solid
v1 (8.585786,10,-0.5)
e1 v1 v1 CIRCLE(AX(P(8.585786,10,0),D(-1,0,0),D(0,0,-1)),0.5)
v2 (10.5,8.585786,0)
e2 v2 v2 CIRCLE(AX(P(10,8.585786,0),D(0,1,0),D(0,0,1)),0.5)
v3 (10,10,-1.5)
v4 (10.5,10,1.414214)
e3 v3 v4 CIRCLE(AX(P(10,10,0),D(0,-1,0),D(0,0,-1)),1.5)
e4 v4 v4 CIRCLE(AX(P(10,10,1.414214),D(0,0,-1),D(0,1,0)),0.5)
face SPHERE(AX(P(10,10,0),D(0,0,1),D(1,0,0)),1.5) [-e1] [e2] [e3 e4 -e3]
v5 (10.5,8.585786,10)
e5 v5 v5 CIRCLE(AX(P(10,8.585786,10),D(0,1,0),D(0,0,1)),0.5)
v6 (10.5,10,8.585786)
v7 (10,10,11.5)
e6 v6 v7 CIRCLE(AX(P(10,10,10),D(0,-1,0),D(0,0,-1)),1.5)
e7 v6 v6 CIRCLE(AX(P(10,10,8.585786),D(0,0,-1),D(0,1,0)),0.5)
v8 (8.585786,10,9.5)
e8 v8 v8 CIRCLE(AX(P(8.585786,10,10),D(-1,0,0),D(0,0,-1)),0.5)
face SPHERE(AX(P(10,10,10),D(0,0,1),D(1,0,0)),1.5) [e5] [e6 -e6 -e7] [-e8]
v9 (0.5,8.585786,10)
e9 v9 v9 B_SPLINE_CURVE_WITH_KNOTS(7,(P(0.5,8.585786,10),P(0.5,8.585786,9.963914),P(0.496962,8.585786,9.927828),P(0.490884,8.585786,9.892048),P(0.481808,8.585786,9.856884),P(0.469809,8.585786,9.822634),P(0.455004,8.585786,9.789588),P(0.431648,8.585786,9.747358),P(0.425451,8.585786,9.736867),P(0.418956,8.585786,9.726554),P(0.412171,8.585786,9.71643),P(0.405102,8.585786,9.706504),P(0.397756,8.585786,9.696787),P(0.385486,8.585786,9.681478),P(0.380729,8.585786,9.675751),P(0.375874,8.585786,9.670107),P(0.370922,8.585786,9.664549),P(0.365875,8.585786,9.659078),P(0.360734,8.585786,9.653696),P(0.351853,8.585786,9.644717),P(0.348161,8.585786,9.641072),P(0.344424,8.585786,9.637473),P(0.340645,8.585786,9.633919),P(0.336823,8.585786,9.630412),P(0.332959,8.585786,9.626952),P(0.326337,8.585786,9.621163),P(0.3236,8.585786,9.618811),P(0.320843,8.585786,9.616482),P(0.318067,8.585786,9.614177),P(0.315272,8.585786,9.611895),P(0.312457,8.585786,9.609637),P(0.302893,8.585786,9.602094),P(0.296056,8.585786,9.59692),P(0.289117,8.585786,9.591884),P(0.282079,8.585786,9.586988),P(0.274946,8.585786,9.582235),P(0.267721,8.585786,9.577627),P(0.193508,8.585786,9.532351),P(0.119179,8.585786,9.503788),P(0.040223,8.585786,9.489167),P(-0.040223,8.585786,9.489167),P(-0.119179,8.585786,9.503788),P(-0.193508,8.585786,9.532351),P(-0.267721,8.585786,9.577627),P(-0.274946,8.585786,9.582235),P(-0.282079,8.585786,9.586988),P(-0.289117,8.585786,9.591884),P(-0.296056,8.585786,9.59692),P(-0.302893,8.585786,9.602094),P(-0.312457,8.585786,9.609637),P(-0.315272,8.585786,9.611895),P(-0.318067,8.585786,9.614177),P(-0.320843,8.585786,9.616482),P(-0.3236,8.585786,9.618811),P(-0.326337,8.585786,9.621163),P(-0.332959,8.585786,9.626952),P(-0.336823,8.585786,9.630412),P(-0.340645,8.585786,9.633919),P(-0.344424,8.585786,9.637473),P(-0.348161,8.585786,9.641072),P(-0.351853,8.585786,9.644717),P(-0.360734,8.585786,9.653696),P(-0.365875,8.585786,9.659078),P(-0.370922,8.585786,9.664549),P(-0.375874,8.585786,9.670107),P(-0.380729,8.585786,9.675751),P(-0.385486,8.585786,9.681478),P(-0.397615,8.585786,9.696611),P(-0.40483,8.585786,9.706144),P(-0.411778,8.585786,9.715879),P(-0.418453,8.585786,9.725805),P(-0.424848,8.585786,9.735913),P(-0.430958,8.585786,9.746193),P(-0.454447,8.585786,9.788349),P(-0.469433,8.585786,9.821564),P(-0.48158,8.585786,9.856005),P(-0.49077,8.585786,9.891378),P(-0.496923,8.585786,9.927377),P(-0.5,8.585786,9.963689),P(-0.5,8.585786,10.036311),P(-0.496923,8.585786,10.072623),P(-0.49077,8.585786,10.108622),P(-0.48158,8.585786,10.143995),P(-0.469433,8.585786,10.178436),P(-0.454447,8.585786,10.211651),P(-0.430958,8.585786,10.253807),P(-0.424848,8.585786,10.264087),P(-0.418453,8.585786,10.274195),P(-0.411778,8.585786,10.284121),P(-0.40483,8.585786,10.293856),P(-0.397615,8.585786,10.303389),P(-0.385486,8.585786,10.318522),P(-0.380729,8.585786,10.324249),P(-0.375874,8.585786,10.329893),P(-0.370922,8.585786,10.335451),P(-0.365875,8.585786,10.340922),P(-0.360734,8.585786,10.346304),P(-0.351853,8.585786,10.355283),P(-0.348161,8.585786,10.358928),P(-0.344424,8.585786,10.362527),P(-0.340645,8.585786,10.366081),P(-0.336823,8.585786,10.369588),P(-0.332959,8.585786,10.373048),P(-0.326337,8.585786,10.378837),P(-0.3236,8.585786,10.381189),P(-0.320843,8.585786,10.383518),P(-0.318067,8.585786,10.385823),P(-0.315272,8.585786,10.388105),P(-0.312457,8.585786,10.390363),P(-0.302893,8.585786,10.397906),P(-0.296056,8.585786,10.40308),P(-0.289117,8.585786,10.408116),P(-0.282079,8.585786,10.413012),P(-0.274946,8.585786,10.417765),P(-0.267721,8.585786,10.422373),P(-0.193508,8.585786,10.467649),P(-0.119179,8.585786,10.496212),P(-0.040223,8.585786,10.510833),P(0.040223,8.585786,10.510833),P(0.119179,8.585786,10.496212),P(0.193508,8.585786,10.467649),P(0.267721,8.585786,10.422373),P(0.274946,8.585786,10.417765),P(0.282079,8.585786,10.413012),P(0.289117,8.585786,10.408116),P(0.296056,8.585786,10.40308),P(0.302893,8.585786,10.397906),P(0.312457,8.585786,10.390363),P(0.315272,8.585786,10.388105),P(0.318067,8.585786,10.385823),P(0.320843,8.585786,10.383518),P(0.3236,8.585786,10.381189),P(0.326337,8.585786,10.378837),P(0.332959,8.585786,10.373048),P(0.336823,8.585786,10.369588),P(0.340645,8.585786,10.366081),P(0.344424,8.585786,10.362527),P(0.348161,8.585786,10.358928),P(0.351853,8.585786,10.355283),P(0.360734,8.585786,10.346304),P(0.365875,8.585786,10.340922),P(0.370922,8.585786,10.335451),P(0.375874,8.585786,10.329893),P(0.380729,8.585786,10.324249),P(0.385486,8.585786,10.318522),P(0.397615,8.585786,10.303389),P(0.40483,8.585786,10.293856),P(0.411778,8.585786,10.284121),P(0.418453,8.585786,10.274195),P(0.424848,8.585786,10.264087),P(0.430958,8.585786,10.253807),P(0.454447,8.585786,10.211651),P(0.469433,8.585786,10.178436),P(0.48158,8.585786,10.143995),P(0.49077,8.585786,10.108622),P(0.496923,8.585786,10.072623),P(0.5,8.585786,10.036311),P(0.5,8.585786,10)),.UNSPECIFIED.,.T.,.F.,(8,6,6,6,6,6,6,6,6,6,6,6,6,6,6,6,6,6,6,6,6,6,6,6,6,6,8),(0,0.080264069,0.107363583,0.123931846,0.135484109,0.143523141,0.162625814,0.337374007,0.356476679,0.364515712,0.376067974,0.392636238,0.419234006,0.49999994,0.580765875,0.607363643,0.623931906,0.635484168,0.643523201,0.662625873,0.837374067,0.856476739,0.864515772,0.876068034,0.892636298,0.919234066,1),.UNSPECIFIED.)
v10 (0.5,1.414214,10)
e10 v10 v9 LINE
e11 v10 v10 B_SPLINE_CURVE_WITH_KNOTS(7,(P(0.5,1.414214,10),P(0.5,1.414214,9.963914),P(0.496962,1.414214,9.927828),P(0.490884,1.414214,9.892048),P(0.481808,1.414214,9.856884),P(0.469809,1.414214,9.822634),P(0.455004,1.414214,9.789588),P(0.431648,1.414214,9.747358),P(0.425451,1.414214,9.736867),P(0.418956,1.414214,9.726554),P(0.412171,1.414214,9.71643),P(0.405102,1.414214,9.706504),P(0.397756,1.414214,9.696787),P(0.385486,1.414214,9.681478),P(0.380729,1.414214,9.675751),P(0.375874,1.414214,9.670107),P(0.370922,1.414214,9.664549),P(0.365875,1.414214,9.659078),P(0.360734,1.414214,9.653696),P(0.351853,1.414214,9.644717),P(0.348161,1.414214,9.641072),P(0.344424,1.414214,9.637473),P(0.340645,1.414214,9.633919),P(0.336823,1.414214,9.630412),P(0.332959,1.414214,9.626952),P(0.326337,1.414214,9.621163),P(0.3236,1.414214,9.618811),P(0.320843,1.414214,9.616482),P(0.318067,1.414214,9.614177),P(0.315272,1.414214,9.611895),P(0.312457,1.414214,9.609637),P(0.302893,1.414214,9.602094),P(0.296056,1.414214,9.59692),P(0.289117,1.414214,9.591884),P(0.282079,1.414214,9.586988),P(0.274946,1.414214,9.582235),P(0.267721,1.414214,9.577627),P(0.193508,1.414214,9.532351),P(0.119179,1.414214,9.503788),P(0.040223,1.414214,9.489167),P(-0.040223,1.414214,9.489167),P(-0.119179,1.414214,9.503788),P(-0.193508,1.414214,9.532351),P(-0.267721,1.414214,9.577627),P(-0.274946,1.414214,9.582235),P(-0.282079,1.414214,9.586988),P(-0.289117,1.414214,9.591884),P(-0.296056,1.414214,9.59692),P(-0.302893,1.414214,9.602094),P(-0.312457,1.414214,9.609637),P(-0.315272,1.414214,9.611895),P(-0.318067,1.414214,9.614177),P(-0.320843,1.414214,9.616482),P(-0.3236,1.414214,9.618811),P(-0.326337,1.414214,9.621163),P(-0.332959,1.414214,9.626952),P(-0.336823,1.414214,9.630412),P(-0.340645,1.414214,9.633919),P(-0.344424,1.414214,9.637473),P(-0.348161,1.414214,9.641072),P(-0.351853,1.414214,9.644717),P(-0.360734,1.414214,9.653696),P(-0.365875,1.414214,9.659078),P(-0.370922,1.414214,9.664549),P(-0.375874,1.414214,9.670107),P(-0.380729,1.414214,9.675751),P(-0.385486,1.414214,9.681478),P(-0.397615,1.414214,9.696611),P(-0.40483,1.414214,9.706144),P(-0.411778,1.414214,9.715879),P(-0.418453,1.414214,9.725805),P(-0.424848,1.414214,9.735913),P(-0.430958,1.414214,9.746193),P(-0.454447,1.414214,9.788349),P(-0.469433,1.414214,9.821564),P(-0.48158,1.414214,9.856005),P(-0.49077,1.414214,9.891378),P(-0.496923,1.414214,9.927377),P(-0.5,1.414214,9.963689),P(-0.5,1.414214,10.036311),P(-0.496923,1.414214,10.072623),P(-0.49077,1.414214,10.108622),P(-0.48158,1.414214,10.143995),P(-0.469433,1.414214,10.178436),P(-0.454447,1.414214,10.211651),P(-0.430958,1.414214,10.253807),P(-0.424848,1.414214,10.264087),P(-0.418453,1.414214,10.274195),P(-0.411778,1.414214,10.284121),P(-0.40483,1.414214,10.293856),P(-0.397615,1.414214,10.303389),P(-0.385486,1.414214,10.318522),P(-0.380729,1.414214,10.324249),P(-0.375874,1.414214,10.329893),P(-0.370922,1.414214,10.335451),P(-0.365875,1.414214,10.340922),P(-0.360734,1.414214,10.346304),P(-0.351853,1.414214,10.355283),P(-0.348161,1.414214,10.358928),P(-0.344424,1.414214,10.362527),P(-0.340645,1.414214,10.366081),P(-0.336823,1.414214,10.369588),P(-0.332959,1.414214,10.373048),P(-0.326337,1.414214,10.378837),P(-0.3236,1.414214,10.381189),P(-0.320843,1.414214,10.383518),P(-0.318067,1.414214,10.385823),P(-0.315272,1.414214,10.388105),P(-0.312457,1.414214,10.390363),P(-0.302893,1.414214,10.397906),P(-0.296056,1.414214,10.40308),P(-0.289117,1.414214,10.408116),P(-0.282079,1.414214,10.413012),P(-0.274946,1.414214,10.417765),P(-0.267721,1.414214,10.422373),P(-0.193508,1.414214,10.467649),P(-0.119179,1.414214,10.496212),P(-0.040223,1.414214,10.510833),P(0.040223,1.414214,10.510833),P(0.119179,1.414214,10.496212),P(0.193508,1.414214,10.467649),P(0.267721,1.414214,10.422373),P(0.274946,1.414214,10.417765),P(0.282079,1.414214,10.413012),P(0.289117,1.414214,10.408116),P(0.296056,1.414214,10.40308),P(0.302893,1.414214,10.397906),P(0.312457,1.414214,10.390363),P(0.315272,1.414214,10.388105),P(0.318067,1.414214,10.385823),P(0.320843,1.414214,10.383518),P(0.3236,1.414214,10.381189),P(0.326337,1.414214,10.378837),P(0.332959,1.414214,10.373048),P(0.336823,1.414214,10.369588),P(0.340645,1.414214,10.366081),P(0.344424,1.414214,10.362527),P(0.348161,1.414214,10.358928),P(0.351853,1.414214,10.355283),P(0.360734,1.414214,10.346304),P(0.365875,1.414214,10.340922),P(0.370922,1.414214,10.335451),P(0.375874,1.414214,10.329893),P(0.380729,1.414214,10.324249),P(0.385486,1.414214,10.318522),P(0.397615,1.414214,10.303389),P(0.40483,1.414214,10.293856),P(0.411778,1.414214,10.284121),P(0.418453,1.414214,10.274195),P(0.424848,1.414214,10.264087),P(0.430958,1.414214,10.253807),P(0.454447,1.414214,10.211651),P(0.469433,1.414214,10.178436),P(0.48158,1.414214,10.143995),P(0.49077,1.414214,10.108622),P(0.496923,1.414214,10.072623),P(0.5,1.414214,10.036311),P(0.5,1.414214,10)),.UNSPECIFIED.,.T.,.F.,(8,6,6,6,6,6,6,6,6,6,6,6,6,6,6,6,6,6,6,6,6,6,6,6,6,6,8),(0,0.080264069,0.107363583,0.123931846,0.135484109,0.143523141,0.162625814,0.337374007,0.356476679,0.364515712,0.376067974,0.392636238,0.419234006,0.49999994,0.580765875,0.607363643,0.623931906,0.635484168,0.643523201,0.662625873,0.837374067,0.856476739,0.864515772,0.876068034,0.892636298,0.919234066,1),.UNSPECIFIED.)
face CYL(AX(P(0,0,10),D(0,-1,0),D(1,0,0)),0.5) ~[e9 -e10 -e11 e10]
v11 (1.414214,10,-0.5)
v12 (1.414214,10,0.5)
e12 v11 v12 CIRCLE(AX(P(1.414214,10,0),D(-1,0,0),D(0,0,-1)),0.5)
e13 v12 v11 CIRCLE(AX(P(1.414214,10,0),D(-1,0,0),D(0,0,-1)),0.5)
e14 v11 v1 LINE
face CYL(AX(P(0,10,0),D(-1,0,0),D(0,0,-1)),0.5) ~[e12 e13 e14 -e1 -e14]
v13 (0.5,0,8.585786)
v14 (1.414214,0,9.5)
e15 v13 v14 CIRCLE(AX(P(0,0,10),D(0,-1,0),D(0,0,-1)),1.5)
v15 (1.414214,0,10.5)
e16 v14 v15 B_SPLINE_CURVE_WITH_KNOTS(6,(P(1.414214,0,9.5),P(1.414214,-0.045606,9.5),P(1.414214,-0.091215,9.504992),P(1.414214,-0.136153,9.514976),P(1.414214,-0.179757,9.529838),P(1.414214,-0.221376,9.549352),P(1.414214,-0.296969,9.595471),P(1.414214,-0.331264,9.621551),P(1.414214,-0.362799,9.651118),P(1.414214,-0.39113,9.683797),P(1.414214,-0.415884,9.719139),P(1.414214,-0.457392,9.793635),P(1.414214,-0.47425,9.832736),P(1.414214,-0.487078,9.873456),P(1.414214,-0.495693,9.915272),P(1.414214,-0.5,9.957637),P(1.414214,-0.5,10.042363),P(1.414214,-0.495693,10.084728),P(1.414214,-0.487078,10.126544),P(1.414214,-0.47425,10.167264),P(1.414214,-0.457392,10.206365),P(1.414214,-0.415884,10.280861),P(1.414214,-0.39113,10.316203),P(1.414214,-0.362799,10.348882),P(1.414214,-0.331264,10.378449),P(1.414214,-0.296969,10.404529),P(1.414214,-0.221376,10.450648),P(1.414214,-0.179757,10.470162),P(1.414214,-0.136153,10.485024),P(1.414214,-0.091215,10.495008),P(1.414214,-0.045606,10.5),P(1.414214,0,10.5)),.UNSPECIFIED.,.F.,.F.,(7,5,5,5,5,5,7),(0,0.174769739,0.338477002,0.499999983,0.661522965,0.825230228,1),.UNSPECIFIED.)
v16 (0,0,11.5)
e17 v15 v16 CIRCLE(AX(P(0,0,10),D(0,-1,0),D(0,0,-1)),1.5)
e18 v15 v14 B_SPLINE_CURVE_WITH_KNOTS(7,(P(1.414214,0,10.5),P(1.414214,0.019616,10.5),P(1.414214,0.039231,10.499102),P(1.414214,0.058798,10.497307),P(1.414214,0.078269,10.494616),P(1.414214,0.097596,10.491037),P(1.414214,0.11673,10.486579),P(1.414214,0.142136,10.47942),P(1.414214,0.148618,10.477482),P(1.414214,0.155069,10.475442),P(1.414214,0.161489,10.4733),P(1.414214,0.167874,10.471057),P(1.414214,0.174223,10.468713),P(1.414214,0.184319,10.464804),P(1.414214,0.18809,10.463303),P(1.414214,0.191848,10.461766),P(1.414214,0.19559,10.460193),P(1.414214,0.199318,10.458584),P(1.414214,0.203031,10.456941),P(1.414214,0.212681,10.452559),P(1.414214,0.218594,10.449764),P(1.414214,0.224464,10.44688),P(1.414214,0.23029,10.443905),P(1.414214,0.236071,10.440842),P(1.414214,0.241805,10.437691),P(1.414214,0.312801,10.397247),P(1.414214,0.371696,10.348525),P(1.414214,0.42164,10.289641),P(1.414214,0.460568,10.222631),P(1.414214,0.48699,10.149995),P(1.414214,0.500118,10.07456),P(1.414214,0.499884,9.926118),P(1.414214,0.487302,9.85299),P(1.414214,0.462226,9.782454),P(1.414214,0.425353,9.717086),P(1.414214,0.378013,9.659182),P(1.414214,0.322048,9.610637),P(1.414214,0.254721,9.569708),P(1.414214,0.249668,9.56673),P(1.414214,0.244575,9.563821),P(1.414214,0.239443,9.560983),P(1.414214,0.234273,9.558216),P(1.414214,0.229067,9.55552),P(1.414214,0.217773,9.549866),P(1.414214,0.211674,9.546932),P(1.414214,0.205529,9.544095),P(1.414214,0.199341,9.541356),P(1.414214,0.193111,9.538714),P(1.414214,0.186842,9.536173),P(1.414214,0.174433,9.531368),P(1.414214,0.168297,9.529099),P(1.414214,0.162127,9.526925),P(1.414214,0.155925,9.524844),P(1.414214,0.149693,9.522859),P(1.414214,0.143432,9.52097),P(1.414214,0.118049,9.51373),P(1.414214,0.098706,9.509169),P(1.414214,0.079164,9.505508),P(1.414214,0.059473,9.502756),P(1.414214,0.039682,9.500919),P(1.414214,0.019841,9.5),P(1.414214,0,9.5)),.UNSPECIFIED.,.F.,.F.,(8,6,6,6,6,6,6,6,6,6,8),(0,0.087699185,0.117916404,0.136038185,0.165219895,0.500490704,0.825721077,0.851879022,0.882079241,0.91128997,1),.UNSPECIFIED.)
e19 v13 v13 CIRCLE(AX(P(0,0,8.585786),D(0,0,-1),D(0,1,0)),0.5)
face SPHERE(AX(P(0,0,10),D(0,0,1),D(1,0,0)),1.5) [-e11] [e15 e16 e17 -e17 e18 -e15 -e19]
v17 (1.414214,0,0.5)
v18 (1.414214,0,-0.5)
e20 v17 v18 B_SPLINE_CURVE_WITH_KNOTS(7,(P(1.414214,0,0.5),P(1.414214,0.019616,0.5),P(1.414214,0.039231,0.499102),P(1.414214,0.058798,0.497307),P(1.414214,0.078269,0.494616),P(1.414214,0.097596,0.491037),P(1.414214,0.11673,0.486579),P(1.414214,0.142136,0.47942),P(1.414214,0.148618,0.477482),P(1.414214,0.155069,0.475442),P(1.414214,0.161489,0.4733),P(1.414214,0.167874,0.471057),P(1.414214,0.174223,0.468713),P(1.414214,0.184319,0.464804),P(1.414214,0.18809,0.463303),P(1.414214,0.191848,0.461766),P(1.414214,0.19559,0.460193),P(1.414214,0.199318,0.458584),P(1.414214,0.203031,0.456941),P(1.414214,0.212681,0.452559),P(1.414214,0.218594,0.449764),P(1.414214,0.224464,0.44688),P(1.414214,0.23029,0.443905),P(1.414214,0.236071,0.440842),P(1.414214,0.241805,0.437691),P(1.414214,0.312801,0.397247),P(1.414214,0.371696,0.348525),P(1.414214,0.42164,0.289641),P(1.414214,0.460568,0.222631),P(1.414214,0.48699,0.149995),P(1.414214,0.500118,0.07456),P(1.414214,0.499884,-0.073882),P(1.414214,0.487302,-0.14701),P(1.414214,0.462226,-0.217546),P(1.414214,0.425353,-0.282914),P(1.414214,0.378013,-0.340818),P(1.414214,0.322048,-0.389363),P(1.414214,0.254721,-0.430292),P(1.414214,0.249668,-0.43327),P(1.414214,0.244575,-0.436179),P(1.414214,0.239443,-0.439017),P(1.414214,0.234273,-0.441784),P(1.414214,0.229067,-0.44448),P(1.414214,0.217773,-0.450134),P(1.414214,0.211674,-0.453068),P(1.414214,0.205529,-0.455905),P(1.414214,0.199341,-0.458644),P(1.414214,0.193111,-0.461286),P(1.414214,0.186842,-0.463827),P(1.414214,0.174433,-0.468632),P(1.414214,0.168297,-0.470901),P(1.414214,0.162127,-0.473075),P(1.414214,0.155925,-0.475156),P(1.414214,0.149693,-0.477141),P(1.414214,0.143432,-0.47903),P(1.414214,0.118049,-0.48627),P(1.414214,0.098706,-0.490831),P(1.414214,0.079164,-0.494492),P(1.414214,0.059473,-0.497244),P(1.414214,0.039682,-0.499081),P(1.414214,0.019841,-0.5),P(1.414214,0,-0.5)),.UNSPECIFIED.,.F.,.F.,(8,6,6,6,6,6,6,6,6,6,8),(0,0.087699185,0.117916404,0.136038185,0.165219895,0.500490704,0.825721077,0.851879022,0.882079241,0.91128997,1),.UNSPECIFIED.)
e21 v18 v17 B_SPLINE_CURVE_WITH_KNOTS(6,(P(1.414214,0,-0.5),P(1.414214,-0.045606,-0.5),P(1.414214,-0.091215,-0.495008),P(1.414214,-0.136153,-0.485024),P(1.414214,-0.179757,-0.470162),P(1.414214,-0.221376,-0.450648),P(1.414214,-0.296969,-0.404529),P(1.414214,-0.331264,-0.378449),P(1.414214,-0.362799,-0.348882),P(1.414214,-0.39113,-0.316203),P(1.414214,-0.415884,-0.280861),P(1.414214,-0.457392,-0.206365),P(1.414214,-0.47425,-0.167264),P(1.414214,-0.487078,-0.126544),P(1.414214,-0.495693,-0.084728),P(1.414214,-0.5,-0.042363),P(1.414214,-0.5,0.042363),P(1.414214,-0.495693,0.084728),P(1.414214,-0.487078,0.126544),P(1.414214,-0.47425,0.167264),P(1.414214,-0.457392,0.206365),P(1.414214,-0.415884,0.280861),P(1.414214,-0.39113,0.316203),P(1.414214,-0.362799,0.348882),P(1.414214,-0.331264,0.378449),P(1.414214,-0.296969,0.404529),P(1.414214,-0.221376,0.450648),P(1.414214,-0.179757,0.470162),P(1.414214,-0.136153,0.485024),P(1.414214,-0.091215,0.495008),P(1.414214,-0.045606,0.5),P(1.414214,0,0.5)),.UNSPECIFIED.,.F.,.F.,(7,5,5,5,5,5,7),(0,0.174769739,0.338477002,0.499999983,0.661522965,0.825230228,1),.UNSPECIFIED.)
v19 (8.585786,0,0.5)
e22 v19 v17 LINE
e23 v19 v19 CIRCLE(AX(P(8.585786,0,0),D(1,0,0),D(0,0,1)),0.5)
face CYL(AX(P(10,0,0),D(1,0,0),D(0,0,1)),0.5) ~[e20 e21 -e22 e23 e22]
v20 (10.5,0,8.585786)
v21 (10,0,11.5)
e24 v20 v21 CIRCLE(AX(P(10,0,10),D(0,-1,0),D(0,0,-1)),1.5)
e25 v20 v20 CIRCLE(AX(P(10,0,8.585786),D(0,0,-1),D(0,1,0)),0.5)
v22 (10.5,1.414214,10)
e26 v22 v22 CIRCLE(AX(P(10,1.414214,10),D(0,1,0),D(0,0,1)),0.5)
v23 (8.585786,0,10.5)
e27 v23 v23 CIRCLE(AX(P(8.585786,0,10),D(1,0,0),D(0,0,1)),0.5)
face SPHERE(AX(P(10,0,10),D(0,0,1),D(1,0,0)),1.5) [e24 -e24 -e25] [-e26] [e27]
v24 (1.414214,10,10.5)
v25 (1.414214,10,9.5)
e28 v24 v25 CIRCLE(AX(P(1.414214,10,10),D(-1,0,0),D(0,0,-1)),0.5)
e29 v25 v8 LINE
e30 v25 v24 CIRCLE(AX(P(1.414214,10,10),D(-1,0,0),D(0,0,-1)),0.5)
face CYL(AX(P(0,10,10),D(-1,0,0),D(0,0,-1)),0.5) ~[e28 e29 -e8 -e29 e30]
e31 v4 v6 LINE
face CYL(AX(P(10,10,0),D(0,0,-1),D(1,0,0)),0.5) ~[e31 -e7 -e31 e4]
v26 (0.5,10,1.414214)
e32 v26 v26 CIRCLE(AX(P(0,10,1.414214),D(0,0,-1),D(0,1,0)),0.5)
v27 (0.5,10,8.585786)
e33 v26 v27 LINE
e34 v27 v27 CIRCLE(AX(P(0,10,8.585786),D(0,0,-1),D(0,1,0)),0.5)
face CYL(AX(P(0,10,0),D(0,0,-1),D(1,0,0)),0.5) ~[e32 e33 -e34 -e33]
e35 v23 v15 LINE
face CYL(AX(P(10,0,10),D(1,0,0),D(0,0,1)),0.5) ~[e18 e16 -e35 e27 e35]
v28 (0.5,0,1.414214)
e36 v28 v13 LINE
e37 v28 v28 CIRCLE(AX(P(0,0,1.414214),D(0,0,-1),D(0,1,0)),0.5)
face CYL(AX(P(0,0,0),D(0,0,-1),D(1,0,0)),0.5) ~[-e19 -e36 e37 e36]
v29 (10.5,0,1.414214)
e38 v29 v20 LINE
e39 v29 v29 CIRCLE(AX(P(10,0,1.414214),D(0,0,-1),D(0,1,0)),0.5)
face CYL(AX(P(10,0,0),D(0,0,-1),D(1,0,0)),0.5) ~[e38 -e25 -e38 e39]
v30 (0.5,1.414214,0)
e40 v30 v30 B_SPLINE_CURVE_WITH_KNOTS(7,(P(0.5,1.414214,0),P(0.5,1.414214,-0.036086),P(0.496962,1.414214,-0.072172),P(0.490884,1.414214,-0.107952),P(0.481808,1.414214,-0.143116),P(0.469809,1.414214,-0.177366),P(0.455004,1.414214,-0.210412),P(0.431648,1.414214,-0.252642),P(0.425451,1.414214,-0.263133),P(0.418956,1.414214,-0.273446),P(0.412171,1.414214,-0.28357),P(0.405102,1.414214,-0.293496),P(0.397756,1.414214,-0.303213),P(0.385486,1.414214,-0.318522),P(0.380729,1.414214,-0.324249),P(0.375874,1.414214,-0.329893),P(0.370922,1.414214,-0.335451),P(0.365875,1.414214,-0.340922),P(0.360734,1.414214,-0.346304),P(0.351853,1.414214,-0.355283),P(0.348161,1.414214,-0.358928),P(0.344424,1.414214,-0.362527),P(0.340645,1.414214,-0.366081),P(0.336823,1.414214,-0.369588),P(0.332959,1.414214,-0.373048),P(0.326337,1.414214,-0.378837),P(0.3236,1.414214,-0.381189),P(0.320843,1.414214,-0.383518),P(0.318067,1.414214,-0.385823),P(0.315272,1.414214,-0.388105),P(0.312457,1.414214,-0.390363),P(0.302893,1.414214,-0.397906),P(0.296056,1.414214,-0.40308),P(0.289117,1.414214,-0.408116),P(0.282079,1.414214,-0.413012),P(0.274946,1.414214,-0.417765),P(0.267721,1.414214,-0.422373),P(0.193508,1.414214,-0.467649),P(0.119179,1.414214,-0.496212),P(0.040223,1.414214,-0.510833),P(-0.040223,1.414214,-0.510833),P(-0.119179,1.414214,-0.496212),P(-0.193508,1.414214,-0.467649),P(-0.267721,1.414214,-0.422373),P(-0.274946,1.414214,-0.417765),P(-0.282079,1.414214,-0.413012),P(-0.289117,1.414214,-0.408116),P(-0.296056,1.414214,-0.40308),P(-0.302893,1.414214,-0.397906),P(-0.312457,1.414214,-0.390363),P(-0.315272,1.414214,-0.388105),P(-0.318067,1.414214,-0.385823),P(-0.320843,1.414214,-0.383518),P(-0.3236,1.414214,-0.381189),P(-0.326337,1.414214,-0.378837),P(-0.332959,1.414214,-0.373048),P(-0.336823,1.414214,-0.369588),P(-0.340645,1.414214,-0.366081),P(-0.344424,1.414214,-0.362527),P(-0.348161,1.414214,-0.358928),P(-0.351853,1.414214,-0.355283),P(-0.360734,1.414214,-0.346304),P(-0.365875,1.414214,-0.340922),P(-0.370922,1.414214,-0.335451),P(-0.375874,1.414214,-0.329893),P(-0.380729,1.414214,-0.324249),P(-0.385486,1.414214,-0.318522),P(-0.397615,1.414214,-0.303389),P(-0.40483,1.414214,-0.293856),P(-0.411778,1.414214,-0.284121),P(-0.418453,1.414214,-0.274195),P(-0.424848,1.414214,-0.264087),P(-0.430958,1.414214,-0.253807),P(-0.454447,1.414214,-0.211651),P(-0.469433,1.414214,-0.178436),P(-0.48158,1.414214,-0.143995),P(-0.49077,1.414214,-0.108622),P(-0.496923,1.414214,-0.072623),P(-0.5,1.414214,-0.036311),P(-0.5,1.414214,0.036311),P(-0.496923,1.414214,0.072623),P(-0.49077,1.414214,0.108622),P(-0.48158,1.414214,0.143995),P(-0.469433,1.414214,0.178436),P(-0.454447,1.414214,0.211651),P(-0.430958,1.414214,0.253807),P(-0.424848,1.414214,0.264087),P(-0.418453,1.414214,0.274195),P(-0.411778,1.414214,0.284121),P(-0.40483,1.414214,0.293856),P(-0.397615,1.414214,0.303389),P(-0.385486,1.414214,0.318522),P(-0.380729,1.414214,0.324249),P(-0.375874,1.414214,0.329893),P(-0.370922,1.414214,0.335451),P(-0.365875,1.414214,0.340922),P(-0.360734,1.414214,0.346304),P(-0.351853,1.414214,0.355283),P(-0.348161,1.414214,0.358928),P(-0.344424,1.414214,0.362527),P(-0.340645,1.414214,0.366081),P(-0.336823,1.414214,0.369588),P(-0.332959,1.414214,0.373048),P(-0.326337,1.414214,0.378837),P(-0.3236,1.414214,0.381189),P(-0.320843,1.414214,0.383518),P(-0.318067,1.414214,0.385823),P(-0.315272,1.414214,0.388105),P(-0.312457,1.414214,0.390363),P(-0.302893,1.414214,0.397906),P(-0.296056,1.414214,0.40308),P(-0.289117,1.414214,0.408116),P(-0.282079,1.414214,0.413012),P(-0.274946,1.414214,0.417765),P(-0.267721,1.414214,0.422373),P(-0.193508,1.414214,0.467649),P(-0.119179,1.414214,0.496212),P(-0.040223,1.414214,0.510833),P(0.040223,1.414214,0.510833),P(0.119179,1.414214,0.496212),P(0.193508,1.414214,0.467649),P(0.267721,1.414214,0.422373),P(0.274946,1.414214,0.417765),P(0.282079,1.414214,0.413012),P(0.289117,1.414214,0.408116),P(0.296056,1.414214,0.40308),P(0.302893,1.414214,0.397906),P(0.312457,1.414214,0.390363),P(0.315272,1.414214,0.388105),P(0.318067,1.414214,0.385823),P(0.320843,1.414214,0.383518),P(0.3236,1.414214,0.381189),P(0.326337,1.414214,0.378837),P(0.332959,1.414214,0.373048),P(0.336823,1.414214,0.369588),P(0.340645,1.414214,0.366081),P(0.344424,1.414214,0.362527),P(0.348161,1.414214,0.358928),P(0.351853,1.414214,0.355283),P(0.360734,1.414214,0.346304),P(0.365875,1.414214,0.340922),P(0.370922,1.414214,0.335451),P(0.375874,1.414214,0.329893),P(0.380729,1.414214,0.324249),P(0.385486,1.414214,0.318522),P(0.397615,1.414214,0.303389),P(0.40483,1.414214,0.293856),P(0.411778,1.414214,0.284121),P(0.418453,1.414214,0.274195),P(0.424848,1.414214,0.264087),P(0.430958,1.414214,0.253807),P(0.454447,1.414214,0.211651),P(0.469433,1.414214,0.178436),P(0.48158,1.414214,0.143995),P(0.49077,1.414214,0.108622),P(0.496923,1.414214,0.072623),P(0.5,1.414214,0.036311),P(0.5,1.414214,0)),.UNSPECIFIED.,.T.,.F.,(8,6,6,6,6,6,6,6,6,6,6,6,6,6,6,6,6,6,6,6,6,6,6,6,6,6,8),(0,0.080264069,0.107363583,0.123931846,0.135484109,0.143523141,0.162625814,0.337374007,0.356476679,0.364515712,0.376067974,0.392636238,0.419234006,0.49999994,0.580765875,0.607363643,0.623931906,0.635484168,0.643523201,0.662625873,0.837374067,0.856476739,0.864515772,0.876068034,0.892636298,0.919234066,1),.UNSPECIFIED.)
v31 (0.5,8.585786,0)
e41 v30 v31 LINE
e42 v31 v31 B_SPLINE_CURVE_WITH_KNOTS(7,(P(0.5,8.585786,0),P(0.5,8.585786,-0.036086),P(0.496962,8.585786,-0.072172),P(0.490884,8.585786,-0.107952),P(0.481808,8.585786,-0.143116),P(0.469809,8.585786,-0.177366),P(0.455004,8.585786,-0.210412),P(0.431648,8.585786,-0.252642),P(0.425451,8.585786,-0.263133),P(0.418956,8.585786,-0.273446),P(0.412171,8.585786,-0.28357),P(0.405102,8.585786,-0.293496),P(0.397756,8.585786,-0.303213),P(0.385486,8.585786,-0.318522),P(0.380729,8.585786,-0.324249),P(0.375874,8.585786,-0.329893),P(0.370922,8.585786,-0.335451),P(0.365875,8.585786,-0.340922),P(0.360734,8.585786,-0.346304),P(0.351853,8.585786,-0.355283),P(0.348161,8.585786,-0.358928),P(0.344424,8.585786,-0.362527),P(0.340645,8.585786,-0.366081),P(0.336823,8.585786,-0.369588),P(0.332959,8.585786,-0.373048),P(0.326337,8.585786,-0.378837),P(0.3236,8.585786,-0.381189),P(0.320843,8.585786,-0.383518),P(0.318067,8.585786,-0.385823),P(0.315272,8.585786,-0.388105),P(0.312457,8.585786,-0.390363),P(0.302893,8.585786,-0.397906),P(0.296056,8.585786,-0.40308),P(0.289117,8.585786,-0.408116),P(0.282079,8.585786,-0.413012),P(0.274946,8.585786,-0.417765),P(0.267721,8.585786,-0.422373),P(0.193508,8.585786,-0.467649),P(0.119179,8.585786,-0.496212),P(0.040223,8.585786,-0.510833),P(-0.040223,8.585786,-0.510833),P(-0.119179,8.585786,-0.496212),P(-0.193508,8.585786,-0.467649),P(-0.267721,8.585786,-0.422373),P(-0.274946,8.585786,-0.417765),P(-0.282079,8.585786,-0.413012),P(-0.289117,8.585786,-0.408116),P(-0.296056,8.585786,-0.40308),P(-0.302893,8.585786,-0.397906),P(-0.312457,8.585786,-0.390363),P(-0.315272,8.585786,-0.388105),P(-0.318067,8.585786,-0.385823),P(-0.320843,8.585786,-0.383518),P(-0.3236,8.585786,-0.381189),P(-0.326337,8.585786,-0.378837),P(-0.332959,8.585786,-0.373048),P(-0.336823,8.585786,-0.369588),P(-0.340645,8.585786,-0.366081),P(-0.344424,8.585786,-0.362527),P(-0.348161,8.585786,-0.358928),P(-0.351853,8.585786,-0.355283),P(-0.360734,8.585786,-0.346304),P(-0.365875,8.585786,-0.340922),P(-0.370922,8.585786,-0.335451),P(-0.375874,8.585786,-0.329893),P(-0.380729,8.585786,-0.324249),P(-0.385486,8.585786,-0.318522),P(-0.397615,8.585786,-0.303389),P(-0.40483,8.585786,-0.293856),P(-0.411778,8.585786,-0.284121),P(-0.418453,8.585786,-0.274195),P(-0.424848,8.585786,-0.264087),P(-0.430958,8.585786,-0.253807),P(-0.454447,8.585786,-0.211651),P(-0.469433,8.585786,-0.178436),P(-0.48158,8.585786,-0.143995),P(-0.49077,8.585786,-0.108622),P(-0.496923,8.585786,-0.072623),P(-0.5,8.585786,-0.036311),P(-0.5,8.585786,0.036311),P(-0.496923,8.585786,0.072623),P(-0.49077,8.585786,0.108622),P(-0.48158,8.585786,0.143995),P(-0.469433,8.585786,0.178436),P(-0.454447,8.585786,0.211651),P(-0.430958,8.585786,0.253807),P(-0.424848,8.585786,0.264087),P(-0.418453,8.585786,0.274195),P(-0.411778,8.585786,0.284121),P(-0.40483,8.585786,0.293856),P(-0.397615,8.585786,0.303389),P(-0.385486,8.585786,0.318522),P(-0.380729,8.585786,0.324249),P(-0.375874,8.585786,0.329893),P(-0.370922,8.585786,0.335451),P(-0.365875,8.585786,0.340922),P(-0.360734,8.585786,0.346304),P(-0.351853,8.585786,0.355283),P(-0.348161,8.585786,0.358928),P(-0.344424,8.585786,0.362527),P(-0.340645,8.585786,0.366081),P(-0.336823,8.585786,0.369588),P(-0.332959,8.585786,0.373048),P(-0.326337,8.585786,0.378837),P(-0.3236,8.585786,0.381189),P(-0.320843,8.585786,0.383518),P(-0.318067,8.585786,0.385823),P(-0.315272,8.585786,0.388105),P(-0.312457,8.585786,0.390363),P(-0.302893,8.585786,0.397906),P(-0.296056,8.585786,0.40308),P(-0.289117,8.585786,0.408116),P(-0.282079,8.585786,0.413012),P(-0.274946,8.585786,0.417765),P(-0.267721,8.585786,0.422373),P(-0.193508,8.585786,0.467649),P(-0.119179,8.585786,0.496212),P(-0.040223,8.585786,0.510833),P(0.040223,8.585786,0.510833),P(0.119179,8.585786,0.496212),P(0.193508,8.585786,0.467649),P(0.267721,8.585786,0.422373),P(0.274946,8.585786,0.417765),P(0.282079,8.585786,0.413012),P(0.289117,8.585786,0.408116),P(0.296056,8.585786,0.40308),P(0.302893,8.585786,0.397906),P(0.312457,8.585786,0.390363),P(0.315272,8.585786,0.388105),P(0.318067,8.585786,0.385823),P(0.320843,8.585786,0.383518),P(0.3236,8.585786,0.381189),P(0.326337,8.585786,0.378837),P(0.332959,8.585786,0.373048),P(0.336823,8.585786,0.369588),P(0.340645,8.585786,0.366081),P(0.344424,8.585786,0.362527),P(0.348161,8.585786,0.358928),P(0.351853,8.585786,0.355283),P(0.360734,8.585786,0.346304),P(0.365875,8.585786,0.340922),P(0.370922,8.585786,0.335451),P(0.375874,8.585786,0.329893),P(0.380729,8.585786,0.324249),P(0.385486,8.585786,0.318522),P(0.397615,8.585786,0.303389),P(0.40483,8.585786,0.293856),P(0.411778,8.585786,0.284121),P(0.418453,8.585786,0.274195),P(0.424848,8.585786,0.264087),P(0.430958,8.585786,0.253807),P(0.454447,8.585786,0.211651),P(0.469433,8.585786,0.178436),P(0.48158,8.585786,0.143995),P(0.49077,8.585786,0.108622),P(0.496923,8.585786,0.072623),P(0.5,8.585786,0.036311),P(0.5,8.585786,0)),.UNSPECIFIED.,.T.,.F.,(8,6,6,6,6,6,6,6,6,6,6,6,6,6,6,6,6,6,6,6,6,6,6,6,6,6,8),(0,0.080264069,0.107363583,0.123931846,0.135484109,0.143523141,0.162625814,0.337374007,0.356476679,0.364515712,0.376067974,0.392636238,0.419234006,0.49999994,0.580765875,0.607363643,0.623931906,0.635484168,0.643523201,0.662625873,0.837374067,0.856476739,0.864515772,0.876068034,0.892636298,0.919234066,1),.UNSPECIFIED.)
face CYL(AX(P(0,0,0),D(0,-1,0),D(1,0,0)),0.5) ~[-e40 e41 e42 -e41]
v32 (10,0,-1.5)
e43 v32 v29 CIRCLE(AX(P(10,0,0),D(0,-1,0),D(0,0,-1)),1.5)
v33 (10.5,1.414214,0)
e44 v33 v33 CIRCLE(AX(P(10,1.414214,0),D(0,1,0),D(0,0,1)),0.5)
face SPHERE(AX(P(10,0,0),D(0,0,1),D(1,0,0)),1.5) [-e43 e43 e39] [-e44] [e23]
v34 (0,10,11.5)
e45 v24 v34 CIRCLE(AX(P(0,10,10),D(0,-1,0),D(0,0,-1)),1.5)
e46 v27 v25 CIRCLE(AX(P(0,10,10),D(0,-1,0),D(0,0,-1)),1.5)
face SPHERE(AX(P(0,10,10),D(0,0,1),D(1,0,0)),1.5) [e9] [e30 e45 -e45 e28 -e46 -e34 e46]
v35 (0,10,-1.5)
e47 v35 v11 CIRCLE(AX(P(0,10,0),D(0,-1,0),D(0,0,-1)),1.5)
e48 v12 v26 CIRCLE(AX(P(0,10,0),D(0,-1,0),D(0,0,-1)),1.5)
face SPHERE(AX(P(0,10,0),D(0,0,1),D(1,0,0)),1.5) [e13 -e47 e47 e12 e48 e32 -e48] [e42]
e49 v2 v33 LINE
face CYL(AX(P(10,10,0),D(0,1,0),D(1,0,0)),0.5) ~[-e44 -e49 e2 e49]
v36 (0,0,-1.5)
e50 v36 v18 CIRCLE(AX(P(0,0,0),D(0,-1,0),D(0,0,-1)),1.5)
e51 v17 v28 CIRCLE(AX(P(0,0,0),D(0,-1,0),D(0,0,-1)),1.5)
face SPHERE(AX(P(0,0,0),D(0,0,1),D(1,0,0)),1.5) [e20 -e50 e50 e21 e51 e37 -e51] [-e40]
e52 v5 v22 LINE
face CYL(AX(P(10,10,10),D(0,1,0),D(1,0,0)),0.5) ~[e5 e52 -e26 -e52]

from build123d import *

# Parameters (mm, degrees)
CYLINDER_R        = 0.5
CYLINDER_DEPTH    = 10
CYLINDER001_R     = 0.5
CYLINDER001_DEPTH = 10
CYLINDER002_R     = 0.5
CYLINDER002_DEPTH = 10
CYLINDER003_R     = 0.5
CYLINDER003_DEPTH = 10
CYLINDER004_R     = 0.5
CYLINDER004_DEPTH = 10
CYLINDER005_R     = 0.5
CYLINDER005_DEPTH = 10
CYLINDER006_R     = 0.5
CYLINDER006_DEPTH = 10
CYLINDER007_R     = 0.5
CYLINDER007_DEPTH = 10
CYLINDER008_R     = 0.5
CYLINDER008_DEPTH = 10
CYLINDER009_R     = 0.5
CYLINDER009_DEPTH = 10
CYLINDER010_R     = 0.5
CYLINDER010_DEPTH = 10
CYLINDER011_R     = 0.5
CYLINDER011_DEPTH = 10


with BuildPart() as sphere001:
    # Sphere001 → Sphere001 (revolve)
    with BuildSketch(Plane.XZ.offset(-10)):
        with BuildLine():
            ThreePointArc((0, -1.5), (1.5, 0), (0, 1.5))
            Line((0, 1.5), (0, -1.5))
        make_face()
    revolve(axis=Axis((0, 10, 0), (0, 0, 1)))


with BuildPart() as sphere002:
    # Sphere002 → Sphere002 (revolve)
    with BuildSketch(Plane(origin=(10, 10, 0), x_dir=(1, 0, 0), z_dir=(0, -1, 0))):
        with BuildLine():
            ThreePointArc((0, -1.5), (1.5, 0), (0, 1.5))
            Line((0, 1.5), (0, -1.5))
        make_face()
    revolve(axis=Axis((10, 10, 0), (0, 0, 1)))


with BuildPart() as sphere003:
    # Sphere003 → Sphere003 (revolve)
    with BuildSketch(Plane(origin=(10, 0, 0), x_dir=(1, 0, 0), z_dir=(0, -1, 0))):
        with BuildLine():
            ThreePointArc((0, -1.5), (1.5, 0), (0, 1.5))
            Line((0, 1.5), (0, -1.5))
        make_face()
    revolve(axis=Axis((10, 0, 0), (0, 0, 1)))


with BuildPart() as sphere004:
    # Sphere004 → Sphere004 (revolve)
    with BuildSketch(Plane(origin=(0, 0, 10), x_dir=(1, 0, 0), z_dir=(0, -1, 0))):
        with BuildLine():
            ThreePointArc((0, -1.5), (1.5, 0), (0, 1.5))
            Line((0, 1.5), (0, -1.5))
        make_face()
    revolve(axis=Axis((0, 0, 10), (0, 0, 1)))


with BuildPart() as sphere005:
    # Sphere005 → Sphere005 (revolve)
    with BuildSketch(Plane(origin=(0, 10, 10), x_dir=(1, 0, 0), z_dir=(0, -1, 0))):
        with BuildLine():
            ThreePointArc((0, -1.5), (1.5, 0), (0, 1.5))
            Line((0, 1.5), (0, -1.5))
        make_face()
    revolve(axis=Axis((0, 10, 10), (0, 0, 1)))


with BuildPart() as sphere006:
    # Sphere006 → Sphere006 (revolve)
    with BuildSketch(Plane(origin=(10, 10, 10), x_dir=(1, 0, 0), z_dir=(0, -1, 0))):
        with BuildLine():
            ThreePointArc((0, -1.5), (1.5, 0), (0, 1.5))
            Line((0, 1.5), (0, -1.5))
        make_face()
    revolve(axis=Axis((10, 10, 10), (0, 0, 1)))


with BuildPart() as sphere007:
    # Sphere007 → Sphere007 (revolve)
    with BuildSketch(Plane(origin=(10, 0, 10), x_dir=(1, 0, 0), z_dir=(0, -1, 0))):
        with BuildLine():
            ThreePointArc((0, -1.5), (1.5, 0), (0, 1.5))
            Line((0, 1.5), (0, -1.5))
        make_face()
    revolve(axis=Axis((10, 0, 10), (0, 0, 1)))


with BuildPart() as cylinder:
    # Cylinder → Cylinder (new body)
    with BuildSketch(Plane(origin=(0, 0, 0), x_dir=(1, 0, 0), z_dir=(0, 1, 0))):
        Circle(CYLINDER_R)
    extrude(amount=CYLINDER_DEPTH)


with BuildPart() as cylinder001:
    # Cylinder001 → Cylinder001 (new body)
    with BuildSketch(Plane(origin=(0, 0, 10), x_dir=(1, 0, 0), z_dir=(0, 1, 0))):
        Circle(CYLINDER001_R)
    extrude(amount=CYLINDER001_DEPTH)


with BuildPart() as cylinder002:
    # Cylinder002 → Cylinder002 (new body)
    with BuildSketch(Plane.XY):
        Circle(CYLINDER002_R)
    extrude(amount=CYLINDER002_DEPTH)


with BuildPart() as cylinder003:
    # Cylinder003 → Cylinder003 (new body)
    with BuildSketch(Plane(origin=(0, 10, 0), x_dir=(0, 0, -1), z_dir=(1, 0, 0))):
        Circle(CYLINDER003_R)
    extrude(amount=CYLINDER003_DEPTH)


with BuildPart() as cylinder004:
    # Cylinder004 → Cylinder004 (new body)
    with BuildSketch(Plane(origin=(0, 10, 10), x_dir=(0, 0, -1), z_dir=(1, 0, 0))):
        Circle(CYLINDER004_R)
    extrude(amount=CYLINDER004_DEPTH)


with BuildPart() as cylinder005:
    # Cylinder005 → Cylinder005 (new body)
    with BuildSketch(Plane(origin=(0, 10, 0), x_dir=(1, 0, 0), z_dir=(0, 0, 1))):
        Circle(CYLINDER005_R)
    extrude(amount=CYLINDER005_DEPTH)


with BuildPart() as cylinder006:
    # Cylinder006 → Cylinder006 (new body)
    with BuildSketch(Plane(origin=(10, 10, 0), x_dir=(1, 0, 0), z_dir=(0, -1, 0))):
        Circle(CYLINDER006_R)
    extrude(amount=CYLINDER006_DEPTH)


with BuildPart() as cylinder007:
    # Cylinder007 → Cylinder007 (new body)
    with BuildSketch(Plane(origin=(10, 10, 10), x_dir=(1, 0, 0), z_dir=(0, -1, 0))):
        Circle(CYLINDER007_R)
    extrude(amount=CYLINDER007_DEPTH)


with BuildPart() as cylinder008:
    # Cylinder008 → Cylinder008 (new body)
    with BuildSketch(Plane(origin=(10, 10, 0), x_dir=(1, 0, 0), z_dir=(0, 0, 1))):
        Circle(CYLINDER008_R)
    extrude(amount=CYLINDER008_DEPTH)


with BuildPart() as cylinder009:
    # Cylinder009 → Cylinder009 (new body)
    with BuildSketch(Plane.ZY.offset(-10)):
        Circle(CYLINDER009_R)
    extrude(amount=CYLINDER009_DEPTH)


with BuildPart() as cylinder010:
    # Cylinder010 → Cylinder010 (new body)
    with BuildSketch(Plane(origin=(10, 0, 10), x_dir=(0, 0, 1), z_dir=(-1, 0, 0))):
        Circle(CYLINDER010_R)
    extrude(amount=CYLINDER010_DEPTH)


with BuildPart() as cylinder011:
    # Cylinder011 → Cylinder011 (new body)
    with BuildSketch(Plane(origin=(10, 0, 0), x_dir=(1, 0, 0), z_dir=(0, 0, 1))):
        Circle(CYLINDER011_R)
    extrude(amount=CYLINDER011_DEPTH)


with BuildPart() as fusion:
    # Sphere → Sphere (revolve)
    with BuildSketch(Plane.XZ):
        with BuildLine():
            ThreePointArc((0, -1.5), (1.5, 0), (0, 1.5))
            Line((0, 1.5), (0, -1.5))
        make_face()
    revolve(axis=Axis((0, 0, 0), (0, 0, 1)))

    # Fusion: union Sphere001, Sphere002, Sphere003, Sphere004, Sphere005, Sphere006, Sphere007, Cylinder, Cylinder001, Cylinder002, Cylinder003, Cylinder004, Cylinder005, Cylinder006, Cylinder007, Cylinder008, Cylinder009, Cylinder010, Cylinder011
    add(sphere001.part)
    add(sphere002.part)
    add(sphere003.part)
    add(sphere004.part)
    add(sphere005.part)
    add(sphere006.part)
    add(sphere007.part)
    add(cylinder.part)
    add(cylinder001.part)
    add(cylinder002.part)
    add(cylinder003.part)
    add(cylinder004.part)
    add(cylinder005.part)
    add(cylinder006.part)
    add(cylinder007.part)
    add(cylinder008.part)
    add(cylinder009.part)
    add(cylinder010.part)
    add(cylinder011.part)


solid = fusion.part
